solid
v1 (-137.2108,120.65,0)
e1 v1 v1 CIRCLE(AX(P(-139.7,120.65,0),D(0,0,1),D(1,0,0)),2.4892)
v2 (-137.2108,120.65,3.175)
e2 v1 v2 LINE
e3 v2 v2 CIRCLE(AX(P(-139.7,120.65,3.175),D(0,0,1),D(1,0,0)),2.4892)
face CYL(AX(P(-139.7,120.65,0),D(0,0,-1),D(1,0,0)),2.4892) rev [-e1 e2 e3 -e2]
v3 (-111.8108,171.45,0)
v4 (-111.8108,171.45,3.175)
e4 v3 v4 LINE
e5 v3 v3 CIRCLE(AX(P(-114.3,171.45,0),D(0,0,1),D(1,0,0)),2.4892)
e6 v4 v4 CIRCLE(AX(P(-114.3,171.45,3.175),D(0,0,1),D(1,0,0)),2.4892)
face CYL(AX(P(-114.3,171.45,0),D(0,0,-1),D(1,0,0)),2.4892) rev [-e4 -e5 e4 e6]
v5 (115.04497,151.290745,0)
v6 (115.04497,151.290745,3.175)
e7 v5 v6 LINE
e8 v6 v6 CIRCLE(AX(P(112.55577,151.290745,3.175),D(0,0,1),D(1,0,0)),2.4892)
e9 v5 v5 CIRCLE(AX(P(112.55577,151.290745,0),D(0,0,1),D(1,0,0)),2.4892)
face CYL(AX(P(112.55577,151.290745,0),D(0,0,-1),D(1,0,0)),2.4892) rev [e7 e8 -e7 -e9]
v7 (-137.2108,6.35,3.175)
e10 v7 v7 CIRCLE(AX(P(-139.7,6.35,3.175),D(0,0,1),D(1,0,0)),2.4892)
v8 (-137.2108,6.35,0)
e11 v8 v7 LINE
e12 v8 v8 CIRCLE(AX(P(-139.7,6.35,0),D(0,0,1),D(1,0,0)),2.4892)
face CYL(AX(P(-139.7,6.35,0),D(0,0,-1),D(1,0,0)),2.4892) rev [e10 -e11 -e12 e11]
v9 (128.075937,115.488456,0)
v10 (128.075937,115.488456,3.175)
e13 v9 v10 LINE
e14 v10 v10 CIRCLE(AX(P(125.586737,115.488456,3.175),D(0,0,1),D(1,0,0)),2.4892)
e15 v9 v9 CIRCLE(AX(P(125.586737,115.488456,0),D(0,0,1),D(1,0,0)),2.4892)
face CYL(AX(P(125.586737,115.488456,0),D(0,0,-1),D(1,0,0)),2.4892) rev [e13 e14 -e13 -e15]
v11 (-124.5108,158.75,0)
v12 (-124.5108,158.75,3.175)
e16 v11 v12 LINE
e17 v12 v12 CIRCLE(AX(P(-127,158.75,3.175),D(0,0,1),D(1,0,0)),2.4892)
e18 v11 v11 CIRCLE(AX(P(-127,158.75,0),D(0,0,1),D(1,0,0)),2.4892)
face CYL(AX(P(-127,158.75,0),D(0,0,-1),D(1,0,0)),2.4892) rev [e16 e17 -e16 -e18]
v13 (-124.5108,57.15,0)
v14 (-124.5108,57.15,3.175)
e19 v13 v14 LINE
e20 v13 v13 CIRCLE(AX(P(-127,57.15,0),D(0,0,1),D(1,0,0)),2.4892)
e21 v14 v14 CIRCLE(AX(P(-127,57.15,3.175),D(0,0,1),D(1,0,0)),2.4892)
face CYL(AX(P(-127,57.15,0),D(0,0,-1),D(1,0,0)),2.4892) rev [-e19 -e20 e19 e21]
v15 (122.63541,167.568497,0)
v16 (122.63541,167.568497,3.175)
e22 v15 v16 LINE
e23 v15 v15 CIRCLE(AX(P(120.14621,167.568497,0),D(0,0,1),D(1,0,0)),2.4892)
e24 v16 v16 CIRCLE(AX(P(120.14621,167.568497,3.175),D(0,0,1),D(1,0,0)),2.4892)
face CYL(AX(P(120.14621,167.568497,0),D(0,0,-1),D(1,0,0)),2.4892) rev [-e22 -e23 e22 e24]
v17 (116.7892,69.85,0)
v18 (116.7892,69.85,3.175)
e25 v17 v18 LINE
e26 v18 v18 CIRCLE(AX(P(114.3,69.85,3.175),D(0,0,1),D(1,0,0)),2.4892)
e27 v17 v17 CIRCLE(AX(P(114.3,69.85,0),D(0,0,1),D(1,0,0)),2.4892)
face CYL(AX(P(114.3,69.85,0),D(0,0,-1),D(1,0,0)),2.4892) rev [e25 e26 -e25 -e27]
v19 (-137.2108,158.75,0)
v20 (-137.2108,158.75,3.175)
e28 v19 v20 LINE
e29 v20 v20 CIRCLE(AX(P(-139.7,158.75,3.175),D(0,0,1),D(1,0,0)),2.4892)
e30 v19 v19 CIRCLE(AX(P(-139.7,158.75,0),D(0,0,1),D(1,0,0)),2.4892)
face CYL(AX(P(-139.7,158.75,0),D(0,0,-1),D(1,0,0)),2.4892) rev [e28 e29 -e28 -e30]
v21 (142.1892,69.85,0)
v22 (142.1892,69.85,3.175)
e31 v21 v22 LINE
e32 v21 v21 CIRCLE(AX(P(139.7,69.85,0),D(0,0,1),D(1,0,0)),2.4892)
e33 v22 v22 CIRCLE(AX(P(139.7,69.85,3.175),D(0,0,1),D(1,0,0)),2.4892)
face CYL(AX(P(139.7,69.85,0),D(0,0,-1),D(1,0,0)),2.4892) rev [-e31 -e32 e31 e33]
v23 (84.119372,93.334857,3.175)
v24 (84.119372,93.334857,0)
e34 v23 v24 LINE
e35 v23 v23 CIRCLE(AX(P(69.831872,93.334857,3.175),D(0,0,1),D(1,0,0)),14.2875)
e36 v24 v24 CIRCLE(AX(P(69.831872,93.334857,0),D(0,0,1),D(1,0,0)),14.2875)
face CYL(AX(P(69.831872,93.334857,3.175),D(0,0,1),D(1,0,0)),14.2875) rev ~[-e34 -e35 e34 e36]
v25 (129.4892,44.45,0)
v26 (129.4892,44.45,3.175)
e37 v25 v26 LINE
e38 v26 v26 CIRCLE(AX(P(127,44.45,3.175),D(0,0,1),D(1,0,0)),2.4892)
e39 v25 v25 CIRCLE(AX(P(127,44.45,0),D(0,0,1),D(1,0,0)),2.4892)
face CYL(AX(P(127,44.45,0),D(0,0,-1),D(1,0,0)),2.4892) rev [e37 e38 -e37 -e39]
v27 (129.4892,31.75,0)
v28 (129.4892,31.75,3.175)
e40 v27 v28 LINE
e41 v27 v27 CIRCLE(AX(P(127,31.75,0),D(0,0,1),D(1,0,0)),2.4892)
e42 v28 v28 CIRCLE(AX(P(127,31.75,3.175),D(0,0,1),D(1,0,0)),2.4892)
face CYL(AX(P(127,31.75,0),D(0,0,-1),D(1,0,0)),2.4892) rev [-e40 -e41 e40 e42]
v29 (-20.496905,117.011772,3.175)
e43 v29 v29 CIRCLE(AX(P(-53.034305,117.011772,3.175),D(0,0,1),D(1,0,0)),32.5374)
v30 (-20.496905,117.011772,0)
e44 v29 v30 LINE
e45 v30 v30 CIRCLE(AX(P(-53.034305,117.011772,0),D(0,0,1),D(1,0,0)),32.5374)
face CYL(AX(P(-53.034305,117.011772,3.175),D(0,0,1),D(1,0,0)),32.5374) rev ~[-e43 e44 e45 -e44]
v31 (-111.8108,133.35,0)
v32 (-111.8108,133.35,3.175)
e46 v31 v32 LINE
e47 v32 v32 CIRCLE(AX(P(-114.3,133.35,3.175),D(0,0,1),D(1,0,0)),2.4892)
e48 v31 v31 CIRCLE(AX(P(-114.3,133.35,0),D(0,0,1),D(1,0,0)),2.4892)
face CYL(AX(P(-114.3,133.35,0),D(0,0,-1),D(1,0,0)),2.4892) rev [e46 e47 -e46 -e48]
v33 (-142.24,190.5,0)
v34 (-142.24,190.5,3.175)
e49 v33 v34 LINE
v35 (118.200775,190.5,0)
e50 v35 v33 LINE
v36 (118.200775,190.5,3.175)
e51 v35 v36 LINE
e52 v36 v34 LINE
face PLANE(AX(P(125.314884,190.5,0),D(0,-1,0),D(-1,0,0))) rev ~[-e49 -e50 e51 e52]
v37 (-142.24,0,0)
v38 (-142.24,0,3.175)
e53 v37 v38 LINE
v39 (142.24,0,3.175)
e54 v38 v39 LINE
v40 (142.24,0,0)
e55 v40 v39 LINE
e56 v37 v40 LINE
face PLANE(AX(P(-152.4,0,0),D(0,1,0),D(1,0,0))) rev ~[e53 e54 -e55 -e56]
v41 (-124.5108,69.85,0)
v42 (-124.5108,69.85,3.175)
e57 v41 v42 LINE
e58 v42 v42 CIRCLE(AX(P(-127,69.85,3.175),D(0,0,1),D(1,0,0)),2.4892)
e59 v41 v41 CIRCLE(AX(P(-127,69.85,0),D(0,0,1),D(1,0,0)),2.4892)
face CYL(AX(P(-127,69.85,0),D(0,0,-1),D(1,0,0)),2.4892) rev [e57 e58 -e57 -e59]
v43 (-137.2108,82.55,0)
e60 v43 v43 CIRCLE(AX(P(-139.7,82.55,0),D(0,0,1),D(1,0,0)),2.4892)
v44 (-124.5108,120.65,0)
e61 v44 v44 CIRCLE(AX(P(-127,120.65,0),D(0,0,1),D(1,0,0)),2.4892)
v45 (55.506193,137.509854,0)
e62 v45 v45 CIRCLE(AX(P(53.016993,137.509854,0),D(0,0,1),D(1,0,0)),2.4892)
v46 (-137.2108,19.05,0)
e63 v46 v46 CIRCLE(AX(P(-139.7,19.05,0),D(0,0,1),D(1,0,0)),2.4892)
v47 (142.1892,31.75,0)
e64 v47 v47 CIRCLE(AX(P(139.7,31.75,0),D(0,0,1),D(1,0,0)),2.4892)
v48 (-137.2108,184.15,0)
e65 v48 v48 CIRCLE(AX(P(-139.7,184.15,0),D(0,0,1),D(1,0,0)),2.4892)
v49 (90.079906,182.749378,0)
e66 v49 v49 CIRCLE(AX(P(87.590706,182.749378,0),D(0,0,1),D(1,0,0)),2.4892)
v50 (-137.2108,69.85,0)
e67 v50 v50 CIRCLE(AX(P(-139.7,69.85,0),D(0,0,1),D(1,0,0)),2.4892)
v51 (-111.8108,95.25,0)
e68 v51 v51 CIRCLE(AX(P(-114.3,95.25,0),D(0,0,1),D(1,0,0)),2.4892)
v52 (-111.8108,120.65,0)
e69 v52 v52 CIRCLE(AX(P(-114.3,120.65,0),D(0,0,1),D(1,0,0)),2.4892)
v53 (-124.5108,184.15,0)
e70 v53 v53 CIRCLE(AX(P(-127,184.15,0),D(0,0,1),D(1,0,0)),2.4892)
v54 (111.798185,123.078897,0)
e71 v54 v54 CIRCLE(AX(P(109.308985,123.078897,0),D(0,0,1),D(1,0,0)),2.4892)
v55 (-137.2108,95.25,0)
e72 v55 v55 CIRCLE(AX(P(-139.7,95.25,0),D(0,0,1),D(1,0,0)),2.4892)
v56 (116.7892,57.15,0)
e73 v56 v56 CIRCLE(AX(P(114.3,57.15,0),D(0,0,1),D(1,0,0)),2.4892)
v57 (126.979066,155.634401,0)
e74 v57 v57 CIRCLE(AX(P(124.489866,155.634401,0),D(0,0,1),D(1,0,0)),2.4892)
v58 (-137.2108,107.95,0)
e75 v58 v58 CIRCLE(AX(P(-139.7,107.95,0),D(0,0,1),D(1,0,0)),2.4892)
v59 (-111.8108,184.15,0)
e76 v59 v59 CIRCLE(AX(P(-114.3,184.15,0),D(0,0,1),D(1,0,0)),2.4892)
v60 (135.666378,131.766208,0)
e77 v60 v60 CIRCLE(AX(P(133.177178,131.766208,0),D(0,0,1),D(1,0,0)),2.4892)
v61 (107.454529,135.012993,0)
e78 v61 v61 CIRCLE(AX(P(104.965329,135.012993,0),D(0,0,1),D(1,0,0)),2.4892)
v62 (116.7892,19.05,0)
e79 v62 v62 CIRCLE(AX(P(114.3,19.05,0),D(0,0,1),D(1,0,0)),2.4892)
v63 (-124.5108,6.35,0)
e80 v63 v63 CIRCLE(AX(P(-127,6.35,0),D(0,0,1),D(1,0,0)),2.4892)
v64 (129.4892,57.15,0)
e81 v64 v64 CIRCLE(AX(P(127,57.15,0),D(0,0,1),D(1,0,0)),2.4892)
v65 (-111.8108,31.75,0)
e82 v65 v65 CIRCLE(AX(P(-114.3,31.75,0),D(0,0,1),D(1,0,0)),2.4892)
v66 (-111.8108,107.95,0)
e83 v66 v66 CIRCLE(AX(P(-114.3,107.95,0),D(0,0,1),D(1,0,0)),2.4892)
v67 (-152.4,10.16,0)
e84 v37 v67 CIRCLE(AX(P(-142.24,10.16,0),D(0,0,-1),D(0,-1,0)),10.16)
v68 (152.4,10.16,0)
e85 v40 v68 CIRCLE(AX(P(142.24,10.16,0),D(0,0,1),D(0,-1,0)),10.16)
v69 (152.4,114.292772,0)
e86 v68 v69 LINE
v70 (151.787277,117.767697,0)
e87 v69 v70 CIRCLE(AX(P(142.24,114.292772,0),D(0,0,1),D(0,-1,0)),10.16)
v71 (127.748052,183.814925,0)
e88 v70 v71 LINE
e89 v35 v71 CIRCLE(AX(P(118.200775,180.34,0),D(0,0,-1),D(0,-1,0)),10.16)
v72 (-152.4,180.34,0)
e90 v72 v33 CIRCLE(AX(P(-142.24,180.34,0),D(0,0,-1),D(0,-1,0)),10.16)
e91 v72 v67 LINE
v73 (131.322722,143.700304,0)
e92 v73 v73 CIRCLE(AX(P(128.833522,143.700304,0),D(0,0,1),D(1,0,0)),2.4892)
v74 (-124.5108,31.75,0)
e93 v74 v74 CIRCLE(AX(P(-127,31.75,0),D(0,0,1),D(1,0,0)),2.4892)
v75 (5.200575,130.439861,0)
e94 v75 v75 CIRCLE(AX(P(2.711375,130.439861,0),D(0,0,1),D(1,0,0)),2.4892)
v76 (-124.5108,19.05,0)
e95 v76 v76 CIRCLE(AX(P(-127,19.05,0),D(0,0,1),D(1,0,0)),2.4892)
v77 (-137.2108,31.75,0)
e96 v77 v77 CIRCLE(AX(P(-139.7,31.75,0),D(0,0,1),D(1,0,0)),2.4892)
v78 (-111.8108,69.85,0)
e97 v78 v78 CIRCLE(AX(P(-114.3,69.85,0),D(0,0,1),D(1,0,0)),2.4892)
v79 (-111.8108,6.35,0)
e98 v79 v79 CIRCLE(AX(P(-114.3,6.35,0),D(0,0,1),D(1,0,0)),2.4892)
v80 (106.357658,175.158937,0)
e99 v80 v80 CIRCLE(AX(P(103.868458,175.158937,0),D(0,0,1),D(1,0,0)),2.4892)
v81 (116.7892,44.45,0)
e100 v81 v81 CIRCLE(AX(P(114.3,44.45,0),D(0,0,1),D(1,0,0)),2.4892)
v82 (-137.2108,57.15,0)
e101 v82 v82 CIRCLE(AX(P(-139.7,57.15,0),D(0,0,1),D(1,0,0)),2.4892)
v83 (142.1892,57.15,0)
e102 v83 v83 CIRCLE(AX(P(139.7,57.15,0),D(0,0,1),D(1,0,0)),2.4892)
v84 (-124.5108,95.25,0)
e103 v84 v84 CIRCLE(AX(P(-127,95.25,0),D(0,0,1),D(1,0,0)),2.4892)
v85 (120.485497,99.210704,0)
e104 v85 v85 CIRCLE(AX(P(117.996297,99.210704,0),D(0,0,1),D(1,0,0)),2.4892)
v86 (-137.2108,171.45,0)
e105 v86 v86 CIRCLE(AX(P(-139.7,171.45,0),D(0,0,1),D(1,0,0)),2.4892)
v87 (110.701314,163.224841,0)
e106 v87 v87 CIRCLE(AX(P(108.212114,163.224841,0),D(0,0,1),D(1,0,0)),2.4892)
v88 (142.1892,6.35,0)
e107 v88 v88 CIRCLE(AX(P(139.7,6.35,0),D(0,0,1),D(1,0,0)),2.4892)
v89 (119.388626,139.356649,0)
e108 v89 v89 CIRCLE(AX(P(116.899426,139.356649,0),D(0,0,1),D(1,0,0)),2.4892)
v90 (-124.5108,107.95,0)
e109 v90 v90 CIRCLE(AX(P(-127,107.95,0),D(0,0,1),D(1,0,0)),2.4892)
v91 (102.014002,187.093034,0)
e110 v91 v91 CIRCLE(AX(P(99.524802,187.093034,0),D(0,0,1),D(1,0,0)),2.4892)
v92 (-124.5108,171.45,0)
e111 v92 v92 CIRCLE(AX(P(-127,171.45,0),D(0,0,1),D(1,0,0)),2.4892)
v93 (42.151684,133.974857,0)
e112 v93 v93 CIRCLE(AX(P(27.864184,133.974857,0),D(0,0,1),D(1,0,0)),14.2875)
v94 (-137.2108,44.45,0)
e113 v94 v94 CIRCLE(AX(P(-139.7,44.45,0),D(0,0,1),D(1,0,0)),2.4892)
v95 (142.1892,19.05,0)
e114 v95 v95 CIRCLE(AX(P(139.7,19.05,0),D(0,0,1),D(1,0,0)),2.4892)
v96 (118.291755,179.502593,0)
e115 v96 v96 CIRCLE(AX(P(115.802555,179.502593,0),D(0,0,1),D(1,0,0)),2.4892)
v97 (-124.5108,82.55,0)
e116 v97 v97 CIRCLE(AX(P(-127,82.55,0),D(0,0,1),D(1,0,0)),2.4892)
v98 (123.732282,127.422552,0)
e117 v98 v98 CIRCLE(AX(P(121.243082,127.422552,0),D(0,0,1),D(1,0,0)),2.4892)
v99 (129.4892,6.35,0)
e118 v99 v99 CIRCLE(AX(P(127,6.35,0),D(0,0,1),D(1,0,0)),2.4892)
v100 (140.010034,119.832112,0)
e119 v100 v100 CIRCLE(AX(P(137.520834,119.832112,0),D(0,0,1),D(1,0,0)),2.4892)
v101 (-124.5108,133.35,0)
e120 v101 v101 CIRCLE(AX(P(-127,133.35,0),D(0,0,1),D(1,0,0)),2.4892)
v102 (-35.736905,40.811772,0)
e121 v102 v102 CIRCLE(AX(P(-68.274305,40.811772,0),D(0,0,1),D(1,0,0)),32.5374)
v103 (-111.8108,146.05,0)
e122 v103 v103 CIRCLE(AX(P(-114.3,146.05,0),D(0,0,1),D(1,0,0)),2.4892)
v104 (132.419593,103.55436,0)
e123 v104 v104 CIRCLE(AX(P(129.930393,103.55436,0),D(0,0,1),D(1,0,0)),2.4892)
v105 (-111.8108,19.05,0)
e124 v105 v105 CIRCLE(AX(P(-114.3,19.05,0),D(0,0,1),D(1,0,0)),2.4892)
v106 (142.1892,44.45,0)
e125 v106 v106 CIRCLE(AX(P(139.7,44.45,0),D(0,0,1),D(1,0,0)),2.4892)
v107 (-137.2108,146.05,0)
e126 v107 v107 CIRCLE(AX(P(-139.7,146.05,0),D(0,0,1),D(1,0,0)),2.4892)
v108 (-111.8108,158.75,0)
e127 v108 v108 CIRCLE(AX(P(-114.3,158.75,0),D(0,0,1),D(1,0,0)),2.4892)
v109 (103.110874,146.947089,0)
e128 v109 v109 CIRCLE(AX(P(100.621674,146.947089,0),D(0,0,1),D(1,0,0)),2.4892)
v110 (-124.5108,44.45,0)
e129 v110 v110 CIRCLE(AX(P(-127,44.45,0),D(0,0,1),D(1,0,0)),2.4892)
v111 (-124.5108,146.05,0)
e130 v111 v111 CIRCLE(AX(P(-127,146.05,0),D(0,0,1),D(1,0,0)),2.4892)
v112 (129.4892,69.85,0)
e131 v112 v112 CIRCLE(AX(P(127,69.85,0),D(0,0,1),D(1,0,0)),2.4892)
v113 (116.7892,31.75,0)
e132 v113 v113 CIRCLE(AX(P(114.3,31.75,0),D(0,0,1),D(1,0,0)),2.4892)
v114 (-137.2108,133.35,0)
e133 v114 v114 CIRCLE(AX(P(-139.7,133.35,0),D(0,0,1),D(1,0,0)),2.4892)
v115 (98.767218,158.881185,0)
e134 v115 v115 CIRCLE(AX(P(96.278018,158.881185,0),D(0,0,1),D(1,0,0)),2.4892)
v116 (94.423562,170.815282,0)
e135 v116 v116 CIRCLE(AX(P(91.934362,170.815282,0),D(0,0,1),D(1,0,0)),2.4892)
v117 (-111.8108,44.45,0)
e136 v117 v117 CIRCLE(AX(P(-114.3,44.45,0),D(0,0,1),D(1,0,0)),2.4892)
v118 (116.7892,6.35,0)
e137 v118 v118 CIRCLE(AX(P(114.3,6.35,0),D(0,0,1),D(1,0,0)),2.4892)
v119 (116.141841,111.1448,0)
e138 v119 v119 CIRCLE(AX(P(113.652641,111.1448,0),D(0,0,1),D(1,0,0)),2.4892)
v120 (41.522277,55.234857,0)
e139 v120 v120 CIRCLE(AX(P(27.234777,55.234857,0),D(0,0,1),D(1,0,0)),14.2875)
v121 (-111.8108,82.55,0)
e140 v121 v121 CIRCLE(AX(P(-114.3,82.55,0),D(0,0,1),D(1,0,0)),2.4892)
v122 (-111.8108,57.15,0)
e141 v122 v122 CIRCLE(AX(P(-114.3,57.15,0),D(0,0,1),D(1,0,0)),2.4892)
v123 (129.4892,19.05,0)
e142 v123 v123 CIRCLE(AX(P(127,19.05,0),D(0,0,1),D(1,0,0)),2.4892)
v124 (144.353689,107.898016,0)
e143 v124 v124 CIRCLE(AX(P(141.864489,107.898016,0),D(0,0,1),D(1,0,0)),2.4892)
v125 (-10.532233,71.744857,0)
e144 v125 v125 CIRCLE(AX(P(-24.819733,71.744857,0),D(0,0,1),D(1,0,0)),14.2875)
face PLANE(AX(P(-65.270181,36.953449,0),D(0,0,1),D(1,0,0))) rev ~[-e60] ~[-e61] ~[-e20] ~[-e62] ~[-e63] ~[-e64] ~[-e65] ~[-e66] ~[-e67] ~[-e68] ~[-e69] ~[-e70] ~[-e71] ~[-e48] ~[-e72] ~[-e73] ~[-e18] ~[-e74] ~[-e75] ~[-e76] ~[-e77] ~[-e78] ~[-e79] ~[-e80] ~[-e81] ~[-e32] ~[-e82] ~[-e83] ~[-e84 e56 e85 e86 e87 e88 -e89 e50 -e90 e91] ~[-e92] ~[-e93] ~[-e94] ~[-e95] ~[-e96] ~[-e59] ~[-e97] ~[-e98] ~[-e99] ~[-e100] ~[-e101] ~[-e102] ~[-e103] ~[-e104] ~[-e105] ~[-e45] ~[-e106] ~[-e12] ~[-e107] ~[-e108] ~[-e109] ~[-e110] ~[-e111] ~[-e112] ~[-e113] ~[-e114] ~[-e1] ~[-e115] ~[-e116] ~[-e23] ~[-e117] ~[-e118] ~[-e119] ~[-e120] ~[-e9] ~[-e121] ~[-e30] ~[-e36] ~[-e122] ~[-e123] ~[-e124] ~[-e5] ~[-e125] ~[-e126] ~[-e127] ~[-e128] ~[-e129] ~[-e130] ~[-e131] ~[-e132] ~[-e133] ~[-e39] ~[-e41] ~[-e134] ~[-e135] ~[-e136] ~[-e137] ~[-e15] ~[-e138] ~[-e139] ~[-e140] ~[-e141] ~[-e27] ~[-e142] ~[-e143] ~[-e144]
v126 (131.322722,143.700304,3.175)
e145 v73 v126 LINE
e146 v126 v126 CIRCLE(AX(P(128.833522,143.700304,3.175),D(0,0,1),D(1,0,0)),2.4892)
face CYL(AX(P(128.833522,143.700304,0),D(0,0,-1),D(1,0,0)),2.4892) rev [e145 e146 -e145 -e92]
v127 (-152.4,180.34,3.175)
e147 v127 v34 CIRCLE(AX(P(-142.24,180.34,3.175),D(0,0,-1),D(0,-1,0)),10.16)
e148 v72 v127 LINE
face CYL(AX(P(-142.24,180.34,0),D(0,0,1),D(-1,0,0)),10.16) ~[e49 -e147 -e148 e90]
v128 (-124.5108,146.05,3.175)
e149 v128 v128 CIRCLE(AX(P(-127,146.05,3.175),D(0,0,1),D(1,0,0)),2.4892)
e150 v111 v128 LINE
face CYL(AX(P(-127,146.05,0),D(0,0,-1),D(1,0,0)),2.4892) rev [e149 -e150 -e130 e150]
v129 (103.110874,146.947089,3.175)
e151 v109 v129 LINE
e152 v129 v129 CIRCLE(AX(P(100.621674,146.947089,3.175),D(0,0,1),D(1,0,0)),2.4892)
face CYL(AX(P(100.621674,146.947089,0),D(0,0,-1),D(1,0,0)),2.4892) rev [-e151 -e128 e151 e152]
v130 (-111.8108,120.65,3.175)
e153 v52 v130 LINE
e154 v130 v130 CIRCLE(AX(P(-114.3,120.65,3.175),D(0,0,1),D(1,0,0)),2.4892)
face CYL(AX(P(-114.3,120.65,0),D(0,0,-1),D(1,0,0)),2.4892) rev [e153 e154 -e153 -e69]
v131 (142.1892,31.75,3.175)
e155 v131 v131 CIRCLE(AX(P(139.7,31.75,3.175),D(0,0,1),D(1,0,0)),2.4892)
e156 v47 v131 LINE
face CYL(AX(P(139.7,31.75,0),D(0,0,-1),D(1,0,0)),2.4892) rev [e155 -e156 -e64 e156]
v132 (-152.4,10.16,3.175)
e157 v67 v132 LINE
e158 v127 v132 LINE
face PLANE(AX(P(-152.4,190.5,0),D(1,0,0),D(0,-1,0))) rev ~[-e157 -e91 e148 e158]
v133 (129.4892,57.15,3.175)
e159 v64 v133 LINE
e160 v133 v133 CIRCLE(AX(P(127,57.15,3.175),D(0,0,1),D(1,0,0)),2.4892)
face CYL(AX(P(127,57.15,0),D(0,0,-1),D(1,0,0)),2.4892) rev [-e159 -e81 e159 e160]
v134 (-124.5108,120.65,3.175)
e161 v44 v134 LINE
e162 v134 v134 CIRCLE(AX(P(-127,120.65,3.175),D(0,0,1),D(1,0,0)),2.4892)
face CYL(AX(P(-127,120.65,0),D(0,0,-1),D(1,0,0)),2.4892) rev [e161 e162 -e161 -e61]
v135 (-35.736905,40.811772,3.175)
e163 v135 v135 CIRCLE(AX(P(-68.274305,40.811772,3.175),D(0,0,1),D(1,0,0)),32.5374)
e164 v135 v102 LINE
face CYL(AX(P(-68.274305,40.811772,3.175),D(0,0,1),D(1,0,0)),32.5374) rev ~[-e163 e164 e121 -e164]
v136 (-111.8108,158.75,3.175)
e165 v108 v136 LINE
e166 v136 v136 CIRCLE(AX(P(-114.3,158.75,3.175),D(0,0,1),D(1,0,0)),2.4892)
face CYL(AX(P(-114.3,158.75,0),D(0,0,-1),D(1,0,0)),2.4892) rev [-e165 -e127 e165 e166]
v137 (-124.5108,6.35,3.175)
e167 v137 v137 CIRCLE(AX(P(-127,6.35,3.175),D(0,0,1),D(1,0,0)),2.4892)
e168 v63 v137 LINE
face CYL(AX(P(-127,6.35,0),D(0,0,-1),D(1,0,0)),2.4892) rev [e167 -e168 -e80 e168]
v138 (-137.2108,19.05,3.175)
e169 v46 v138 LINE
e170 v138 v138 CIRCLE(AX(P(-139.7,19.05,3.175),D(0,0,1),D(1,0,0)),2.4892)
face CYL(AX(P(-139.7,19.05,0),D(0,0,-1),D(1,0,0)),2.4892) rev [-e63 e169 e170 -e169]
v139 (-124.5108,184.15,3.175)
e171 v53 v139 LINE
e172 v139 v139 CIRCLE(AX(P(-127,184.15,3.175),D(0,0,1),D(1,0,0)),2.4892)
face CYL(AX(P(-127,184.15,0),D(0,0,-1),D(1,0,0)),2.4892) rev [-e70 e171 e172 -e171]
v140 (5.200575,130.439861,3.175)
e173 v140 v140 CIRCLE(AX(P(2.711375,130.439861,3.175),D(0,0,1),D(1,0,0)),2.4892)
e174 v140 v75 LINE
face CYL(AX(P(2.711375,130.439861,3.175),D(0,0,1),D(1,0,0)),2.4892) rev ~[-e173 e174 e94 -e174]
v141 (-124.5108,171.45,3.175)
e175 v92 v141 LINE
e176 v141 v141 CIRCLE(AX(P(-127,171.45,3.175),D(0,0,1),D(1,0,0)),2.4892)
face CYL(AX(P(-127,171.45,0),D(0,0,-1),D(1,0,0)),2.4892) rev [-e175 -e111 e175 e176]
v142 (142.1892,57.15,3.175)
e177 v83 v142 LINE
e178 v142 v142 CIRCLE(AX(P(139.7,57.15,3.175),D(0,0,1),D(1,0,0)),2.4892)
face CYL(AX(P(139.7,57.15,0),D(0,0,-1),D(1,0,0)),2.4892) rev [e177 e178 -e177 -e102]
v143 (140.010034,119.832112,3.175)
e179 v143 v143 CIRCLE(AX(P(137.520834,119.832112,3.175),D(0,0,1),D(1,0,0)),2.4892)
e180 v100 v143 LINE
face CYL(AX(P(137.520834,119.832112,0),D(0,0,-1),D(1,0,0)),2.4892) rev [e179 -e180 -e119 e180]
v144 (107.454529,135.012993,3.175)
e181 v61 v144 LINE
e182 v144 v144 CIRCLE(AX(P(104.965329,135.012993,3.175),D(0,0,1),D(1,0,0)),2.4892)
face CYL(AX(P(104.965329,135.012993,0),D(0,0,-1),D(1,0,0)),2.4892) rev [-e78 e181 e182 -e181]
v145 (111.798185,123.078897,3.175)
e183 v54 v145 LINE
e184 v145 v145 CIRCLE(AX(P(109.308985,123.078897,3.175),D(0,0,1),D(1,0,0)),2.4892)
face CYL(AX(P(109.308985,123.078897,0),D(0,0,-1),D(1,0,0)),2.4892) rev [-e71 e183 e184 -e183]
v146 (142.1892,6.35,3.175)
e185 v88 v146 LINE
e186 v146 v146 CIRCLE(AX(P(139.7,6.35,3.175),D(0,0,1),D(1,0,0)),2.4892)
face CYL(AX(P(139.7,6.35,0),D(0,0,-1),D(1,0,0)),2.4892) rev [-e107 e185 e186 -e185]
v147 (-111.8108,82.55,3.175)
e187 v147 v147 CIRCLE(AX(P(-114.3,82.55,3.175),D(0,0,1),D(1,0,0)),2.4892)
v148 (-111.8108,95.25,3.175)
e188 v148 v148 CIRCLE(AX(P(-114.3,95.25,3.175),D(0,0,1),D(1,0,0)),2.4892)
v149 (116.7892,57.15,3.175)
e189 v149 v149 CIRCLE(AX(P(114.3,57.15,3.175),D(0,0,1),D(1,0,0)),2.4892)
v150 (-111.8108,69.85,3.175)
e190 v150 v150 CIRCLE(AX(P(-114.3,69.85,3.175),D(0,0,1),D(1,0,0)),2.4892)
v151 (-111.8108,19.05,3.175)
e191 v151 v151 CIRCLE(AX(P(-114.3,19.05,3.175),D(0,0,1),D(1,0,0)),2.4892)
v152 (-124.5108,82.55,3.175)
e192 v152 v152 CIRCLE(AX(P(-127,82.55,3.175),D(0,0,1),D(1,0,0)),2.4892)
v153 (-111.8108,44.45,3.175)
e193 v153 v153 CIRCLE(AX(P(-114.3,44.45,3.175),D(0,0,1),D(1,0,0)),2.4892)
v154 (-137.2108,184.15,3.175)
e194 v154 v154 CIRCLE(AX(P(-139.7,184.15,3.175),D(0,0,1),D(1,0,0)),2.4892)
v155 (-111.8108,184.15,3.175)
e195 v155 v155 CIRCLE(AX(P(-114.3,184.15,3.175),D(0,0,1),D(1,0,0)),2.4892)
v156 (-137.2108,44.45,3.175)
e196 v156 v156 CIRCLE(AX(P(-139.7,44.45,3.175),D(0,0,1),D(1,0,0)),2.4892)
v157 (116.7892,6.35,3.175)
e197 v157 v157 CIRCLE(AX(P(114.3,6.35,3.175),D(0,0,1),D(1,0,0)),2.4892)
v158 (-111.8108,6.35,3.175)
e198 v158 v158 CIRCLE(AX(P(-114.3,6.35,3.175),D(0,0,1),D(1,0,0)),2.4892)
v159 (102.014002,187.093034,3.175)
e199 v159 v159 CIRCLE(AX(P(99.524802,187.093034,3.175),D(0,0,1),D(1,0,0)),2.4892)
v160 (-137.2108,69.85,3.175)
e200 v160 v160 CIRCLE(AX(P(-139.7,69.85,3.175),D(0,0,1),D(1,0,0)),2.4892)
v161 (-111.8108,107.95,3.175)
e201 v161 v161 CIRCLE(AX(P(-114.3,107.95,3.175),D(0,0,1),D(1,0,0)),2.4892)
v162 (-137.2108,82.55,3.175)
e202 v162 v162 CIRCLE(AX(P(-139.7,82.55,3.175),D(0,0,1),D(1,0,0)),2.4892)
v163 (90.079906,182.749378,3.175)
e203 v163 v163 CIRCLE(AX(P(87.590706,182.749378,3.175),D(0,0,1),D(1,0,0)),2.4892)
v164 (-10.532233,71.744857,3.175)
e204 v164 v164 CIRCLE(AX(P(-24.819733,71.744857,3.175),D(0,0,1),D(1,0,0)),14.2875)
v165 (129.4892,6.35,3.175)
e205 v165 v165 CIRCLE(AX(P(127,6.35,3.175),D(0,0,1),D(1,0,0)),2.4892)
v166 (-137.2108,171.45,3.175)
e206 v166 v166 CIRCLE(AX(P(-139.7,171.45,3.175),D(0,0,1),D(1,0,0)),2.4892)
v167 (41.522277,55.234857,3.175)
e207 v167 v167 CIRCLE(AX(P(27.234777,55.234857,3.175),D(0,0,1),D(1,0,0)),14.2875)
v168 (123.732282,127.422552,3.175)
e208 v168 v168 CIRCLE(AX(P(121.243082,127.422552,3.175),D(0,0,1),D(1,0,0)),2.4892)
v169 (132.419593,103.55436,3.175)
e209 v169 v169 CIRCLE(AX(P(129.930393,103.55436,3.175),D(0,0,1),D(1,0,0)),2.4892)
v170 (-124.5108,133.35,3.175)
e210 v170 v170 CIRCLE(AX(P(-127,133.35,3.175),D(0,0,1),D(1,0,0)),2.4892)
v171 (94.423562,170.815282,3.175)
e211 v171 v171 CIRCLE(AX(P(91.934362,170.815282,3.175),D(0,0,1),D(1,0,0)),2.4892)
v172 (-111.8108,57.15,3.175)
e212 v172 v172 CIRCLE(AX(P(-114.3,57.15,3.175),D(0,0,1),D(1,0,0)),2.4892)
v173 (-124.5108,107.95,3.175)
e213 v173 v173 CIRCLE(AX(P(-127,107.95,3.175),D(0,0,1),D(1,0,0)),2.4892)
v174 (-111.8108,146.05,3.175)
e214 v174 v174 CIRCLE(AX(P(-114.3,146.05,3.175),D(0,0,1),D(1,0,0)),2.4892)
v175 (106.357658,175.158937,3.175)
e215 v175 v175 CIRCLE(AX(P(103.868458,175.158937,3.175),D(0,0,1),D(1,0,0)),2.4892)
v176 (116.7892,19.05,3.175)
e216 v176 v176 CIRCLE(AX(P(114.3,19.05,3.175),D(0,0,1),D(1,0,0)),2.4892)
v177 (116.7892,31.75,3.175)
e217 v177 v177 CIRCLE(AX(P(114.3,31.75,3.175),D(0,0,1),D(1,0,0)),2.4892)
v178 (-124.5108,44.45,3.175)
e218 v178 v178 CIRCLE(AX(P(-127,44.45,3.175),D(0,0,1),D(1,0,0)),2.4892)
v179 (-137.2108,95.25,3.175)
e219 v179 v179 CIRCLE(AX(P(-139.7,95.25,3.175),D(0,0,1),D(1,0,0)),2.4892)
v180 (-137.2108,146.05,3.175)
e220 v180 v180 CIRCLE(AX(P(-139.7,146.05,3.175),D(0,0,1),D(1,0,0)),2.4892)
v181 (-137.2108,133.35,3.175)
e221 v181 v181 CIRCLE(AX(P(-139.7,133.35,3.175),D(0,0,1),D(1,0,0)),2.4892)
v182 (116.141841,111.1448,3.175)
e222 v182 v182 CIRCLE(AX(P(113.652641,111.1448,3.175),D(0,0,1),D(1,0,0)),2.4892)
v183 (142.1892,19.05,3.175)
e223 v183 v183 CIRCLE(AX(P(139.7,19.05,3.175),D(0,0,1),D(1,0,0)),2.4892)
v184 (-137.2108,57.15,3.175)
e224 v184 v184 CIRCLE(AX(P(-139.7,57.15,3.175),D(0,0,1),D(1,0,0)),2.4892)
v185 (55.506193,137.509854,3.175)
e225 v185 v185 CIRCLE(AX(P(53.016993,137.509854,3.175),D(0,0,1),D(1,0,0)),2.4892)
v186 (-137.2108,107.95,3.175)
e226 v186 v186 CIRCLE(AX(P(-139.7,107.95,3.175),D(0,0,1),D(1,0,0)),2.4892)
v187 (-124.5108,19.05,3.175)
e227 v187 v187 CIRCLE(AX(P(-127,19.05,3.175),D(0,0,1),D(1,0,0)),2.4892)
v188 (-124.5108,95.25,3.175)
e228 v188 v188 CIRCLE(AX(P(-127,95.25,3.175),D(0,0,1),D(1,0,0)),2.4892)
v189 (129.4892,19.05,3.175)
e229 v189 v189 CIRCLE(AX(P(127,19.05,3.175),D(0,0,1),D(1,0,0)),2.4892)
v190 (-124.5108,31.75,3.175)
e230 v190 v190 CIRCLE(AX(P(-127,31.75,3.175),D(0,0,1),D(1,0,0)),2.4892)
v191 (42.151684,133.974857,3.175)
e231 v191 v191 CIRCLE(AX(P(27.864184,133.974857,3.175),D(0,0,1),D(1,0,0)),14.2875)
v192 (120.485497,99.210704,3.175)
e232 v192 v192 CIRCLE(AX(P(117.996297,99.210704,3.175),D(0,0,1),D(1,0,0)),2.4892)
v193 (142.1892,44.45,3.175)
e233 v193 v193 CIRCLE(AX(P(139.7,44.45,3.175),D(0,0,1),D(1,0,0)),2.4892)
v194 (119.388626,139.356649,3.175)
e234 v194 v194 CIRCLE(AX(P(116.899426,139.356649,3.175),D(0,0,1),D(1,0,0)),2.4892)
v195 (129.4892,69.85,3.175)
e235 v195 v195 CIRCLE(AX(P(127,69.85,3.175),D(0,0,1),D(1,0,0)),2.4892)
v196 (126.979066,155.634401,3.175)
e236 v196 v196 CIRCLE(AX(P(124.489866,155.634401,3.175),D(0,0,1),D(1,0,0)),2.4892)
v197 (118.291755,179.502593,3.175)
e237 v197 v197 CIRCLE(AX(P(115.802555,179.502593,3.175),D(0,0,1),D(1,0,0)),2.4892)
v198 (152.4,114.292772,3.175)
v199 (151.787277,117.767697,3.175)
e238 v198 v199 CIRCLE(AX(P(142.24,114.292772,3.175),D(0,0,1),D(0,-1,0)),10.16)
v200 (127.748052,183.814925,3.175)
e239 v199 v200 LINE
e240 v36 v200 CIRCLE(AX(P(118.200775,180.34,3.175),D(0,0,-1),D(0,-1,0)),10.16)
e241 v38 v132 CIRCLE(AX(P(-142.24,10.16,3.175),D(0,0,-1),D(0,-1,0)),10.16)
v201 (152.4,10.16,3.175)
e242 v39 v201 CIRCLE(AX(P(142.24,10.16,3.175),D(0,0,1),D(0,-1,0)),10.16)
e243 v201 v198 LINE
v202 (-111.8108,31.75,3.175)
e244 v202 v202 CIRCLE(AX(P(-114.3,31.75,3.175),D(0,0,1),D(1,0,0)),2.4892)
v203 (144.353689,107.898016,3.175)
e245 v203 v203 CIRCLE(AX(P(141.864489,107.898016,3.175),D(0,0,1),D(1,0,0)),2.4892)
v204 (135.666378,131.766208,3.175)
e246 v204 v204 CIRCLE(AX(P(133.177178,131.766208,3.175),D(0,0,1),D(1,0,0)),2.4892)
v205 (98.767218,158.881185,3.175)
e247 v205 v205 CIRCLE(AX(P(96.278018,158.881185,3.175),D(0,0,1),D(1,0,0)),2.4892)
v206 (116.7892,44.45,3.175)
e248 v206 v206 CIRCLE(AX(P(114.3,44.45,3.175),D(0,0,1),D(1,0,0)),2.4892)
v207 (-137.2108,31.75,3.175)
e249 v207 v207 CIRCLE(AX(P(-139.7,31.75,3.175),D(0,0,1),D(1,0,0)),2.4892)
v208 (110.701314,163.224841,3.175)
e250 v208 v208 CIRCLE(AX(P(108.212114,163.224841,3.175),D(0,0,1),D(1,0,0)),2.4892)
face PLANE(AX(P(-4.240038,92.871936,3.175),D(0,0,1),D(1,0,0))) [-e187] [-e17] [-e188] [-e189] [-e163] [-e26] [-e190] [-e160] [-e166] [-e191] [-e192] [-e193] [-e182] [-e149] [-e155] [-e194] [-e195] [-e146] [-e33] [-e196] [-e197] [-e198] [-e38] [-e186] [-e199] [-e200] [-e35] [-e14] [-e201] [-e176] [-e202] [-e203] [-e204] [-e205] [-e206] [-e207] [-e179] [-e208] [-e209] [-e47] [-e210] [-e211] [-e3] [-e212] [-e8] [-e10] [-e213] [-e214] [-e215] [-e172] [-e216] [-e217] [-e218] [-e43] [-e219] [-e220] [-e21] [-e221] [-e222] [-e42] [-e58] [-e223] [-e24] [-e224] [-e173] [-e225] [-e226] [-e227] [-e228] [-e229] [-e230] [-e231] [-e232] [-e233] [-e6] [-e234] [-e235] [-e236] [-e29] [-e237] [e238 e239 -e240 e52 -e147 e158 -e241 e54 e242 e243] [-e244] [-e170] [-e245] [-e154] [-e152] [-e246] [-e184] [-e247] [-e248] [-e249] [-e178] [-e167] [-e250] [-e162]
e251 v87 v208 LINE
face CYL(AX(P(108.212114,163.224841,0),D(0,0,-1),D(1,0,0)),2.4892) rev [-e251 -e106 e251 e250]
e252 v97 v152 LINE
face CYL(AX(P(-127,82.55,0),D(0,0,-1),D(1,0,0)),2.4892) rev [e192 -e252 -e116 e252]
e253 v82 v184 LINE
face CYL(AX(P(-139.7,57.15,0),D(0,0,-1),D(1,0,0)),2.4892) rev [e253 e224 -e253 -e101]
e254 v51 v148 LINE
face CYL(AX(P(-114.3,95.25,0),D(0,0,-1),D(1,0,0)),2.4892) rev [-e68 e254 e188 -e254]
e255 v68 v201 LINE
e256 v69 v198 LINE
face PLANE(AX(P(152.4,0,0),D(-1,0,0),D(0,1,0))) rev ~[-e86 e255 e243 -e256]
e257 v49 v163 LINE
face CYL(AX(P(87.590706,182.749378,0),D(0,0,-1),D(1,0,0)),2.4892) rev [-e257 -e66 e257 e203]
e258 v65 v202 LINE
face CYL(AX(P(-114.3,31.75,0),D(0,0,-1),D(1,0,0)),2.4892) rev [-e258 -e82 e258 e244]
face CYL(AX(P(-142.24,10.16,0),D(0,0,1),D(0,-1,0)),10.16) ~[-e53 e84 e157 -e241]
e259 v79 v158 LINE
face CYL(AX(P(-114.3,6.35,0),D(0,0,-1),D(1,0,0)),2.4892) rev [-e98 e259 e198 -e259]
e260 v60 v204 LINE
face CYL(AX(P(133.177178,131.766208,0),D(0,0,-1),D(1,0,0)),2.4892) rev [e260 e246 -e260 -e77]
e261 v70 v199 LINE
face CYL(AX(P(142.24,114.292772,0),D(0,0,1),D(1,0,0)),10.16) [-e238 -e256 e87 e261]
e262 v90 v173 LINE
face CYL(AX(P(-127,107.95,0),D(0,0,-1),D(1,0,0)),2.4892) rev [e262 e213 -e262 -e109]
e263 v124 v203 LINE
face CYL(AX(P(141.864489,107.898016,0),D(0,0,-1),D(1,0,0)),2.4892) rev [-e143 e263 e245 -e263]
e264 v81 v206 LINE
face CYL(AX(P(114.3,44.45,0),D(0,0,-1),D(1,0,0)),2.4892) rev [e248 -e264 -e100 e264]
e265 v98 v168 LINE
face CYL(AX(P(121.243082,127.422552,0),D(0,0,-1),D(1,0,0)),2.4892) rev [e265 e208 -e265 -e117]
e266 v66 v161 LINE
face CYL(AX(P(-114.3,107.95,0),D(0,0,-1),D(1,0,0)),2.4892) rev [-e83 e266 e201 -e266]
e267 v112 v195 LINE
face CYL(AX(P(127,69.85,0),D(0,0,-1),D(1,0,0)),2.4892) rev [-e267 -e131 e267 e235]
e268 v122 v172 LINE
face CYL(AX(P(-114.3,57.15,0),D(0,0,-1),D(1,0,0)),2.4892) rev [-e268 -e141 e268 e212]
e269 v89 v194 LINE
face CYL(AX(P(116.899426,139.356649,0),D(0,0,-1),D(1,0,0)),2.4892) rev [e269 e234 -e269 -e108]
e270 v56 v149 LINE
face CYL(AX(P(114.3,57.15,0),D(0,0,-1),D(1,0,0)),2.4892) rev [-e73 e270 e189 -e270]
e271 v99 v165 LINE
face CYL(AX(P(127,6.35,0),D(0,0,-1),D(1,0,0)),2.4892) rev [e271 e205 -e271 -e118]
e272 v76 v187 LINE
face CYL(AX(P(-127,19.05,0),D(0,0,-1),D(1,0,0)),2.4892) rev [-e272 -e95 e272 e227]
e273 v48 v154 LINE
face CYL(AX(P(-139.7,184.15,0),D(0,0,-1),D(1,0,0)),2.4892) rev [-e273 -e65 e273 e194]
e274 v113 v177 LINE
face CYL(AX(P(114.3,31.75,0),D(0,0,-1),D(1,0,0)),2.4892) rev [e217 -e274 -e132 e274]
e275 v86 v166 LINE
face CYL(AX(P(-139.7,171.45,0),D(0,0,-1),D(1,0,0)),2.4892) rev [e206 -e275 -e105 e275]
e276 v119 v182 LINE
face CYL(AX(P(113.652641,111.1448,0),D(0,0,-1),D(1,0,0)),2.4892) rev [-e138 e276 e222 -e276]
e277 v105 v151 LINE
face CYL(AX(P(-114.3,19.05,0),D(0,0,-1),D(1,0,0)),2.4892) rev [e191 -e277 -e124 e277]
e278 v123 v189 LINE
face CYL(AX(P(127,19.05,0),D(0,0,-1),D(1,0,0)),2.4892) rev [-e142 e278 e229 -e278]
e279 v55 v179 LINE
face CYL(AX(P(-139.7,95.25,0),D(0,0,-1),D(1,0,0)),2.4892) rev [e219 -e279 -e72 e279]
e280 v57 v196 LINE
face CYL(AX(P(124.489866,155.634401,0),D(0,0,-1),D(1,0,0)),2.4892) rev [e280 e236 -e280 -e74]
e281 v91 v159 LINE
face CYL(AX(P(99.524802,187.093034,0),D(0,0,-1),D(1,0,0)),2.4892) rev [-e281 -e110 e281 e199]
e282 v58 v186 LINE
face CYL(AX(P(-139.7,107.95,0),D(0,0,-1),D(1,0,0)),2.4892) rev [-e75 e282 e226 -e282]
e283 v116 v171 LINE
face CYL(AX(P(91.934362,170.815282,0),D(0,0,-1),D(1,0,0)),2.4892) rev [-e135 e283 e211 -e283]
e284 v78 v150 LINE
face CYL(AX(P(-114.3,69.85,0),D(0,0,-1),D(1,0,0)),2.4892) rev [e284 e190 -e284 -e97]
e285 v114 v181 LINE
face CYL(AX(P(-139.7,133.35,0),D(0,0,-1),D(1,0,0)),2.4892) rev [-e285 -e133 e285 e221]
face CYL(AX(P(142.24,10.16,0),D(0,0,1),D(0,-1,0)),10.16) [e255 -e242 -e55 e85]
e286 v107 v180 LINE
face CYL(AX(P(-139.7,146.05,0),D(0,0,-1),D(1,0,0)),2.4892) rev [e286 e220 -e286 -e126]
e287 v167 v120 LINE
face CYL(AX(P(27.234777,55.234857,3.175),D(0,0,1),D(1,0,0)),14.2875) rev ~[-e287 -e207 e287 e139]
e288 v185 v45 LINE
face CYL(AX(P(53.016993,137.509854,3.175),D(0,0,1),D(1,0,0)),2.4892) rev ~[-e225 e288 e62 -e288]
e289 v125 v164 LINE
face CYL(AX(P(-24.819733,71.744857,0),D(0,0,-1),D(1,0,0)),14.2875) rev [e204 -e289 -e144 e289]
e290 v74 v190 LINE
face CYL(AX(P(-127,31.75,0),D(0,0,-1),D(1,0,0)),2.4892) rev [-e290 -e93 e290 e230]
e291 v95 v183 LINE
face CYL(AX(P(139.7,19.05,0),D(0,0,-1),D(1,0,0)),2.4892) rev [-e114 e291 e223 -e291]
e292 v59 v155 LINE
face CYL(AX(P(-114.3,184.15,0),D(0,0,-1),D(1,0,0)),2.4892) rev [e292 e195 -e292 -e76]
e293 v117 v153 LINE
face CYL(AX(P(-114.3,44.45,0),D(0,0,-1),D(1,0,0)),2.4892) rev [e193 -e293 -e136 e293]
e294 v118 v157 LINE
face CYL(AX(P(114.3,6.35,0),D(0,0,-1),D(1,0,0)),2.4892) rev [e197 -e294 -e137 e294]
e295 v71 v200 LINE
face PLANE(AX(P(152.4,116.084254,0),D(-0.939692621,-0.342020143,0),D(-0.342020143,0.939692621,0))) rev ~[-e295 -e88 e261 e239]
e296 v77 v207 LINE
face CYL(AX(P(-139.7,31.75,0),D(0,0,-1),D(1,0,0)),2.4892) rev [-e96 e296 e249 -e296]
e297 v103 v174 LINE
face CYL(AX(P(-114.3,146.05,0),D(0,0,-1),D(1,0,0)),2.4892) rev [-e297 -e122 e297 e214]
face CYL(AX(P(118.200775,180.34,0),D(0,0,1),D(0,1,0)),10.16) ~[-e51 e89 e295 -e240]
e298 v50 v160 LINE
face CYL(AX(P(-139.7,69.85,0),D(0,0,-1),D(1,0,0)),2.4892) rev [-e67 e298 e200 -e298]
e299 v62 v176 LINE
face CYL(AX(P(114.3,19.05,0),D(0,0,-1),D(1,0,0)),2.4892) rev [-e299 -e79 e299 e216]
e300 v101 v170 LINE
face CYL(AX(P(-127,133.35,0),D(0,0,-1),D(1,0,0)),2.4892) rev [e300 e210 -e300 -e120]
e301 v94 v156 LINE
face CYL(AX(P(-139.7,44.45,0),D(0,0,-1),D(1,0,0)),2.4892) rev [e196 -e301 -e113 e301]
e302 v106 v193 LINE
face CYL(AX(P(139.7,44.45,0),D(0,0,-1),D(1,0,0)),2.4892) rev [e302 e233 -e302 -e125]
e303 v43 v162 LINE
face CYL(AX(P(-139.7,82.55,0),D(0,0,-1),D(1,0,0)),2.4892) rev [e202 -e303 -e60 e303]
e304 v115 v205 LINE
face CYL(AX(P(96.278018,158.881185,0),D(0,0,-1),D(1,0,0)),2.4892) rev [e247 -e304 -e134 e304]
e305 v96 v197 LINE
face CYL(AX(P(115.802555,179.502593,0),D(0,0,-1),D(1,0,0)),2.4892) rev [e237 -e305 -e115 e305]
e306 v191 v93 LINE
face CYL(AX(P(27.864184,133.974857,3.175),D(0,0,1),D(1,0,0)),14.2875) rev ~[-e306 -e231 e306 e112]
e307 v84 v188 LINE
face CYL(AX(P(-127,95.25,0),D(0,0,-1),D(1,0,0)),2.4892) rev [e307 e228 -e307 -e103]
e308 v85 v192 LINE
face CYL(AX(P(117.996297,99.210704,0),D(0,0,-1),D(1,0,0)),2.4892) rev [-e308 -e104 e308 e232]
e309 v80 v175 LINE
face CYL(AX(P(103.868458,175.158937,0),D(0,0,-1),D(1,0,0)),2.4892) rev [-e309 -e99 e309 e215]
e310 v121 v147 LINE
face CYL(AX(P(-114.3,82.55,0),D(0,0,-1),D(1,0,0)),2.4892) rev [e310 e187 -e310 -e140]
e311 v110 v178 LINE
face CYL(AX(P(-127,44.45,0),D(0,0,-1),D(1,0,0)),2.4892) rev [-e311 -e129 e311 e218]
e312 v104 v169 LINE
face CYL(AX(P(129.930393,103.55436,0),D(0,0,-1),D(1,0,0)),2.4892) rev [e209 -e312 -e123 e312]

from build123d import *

# Parameters (mm, degrees)
SKETCH1_R           = 2.4892
SKETCH1_R_2         = 14.2875
SKETCH1_R_3         = 29.9974
BOSS_EXTRUDE1_DEPTH = 3.175
BOSS_EXTRUDE2_START = -3.175
SKETCH2_R           = 2.4892
BOSS_EXTRUDE2_DEPTH = 3.175
FILLET1_R           = 10.16
BOSS_EXTRUDE4_START = -3.175
SKETCH7_R           = 14.2875
SKETCH7_R_2         = 2.4892
BOSS_EXTRUDE4_DEPTH = 3.175
SKETCH8_R           = 14.2875
SKETCH8_R_2         = 2.4892
CUT_EXTRUDE1_DEPTH  = 244.979693059
BOSS_EXTRUDE5_START = -3.175
SKETCH11_R          = 29.9974
BOSS_EXTRUDE5_DEPTH = 3.175
SKETCH10_R          = 32.5374
CUT_EXTRUDE2_DEPTH  = 244.979693059


with BuildPart() as part:
    # Sketch1 → Boss-Extrude1 (new body)
    with BuildSketch(Plane.XY):
        Polygon((-152.4, 0), (152.4, 0), (152.4, 116.084254136), (125.314883545, 190.5), (-152.4, 190.5), align=None)
        with Locations((-139.7, 184.15)):
            Circle(SKETCH1_R, mode=Mode.SUBTRACT)
        with Locations((-127, 184.15)):
            Circle(SKETCH1_R, mode=Mode.SUBTRACT)
        with Locations((-114.3, 184.15)):
            Circle(SKETCH1_R, mode=Mode.SUBTRACT)
        with Locations((-127, 171.45)):
            Circle(SKETCH1_R, mode=Mode.SUBTRACT)
        with Locations((-114.3, 171.45)):
            Circle(SKETCH1_R, mode=Mode.SUBTRACT)
        with Locations((-127, 158.75)):
            Circle(SKETCH1_R, mode=Mode.SUBTRACT)
        with Locations((-114.3, 158.75)):
            Circle(SKETCH1_R, mode=Mode.SUBTRACT)
        with Locations((-127, 146.05)):
            Circle(SKETCH1_R, mode=Mode.SUBTRACT)
        with Locations((-114.3, 146.05)):
            Circle(SKETCH1_R, mode=Mode.SUBTRACT)
        with Locations((-127, 133.35)):
            Circle(SKETCH1_R, mode=Mode.SUBTRACT)
        with Locations((-114.3, 133.35)):
            Circle(SKETCH1_R, mode=Mode.SUBTRACT)
        with Locations((-127, 120.65)):
            Circle(SKETCH1_R, mode=Mode.SUBTRACT)
        with Locations((-114.3, 120.65)):
            Circle(SKETCH1_R, mode=Mode.SUBTRACT)
        with Locations((-127, 107.95)):
            Circle(SKETCH1_R, mode=Mode.SUBTRACT)
        with Locations((-114.3, 107.95)):
            Circle(SKETCH1_R, mode=Mode.SUBTRACT)
        with Locations((-127, 95.25)):
            Circle(SKETCH1_R, mode=Mode.SUBTRACT)
        with Locations((-114.3, 95.25)):
            Circle(SKETCH1_R, mode=Mode.SUBTRACT)
        with Locations((-127, 82.55)):
            Circle(SKETCH1_R, mode=Mode.SUBTRACT)
        with Locations((-114.3, 82.55)):
            Circle(SKETCH1_R, mode=Mode.SUBTRACT)
        with Locations((-127, 69.85)):
            Circle(SKETCH1_R, mode=Mode.SUBTRACT)
        with Locations((-114.3, 69.85)):
            Circle(SKETCH1_R, mode=Mode.SUBTRACT)
        with Locations((-127, 57.15)):
            Circle(SKETCH1_R, mode=Mode.SUBTRACT)
        with Locations((-114.3, 57.15)):
            Circle(SKETCH1_R, mode=Mode.SUBTRACT)
        with Locations((-127, 44.45)):
            Circle(SKETCH1_R, mode=Mode.SUBTRACT)
        with Locations((-114.3, 44.45)):
            Circle(SKETCH1_R, mode=Mode.SUBTRACT)
        with Locations((-127, 31.75)):
            Circle(SKETCH1_R, mode=Mode.SUBTRACT)
        with Locations((-114.3, 31.75)):
            Circle(SKETCH1_R, mode=Mode.SUBTRACT)
        with Locations((-127, 19.05)):
            Circle(SKETCH1_R, mode=Mode.SUBTRACT)
        with Locations((-114.3, 19.05)):
            Circle(SKETCH1_R, mode=Mode.SUBTRACT)
        with Locations((-127, 6.35)):
            Circle(SKETCH1_R, mode=Mode.SUBTRACT)
        with Locations((-114.3, 6.35)):
            Circle(SKETCH1_R, mode=Mode.SUBTRACT)
        with Locations((-139.7, 171.45)):
            Circle(SKETCH1_R, mode=Mode.SUBTRACT)
        with Locations((-139.7, 158.75)):
            Circle(SKETCH1_R, mode=Mode.SUBTRACT)
        with Locations((-139.7, 146.05)):
            Circle(SKETCH1_R, mode=Mode.SUBTRACT)
        with Locations((-139.7, 133.35)):
            Circle(SKETCH1_R, mode=Mode.SUBTRACT)
        with Locations((-139.7, 120.65)):
            Circle(SKETCH1_R, mode=Mode.SUBTRACT)
        with Locations((-139.7, 107.95)):
            Circle(SKETCH1_R, mode=Mode.SUBTRACT)
        with Locations((-139.7, 95.25)):
            Circle(SKETCH1_R, mode=Mode.SUBTRACT)
        with Locations((-139.7, 82.55)):
            Circle(SKETCH1_R, mode=Mode.SUBTRACT)
        with Locations((-139.7, 69.85)):
            Circle(SKETCH1_R, mode=Mode.SUBTRACT)
        with Locations((-139.7, 57.15)):
            Circle(SKETCH1_R, mode=Mode.SUBTRACT)
        with Locations((-139.7, 44.45)):
            Circle(SKETCH1_R, mode=Mode.SUBTRACT)
        with Locations((-139.7, 31.75)):
            Circle(SKETCH1_R, mode=Mode.SUBTRACT)
        with Locations((-139.7, 19.05)):
            Circle(SKETCH1_R, mode=Mode.SUBTRACT)
        with Locations((-139.7, 6.35)):
            Circle(SKETCH1_R, mode=Mode.SUBTRACT)
        with Locations((87.590706137, 182.74937795)):
            Circle(SKETCH1_R, mode=Mode.SUBTRACT)
        with Locations((99.524802421, 187.09303377)):
            Circle(SKETCH1_R, mode=Mode.SUBTRACT)
        with Locations((115.802554525, 179.502593307)):
            Circle(SKETCH1_R, mode=Mode.SUBTRACT)
        with Locations((91.934361957, 170.815281666)):
            Circle(SKETCH1_R, mode=Mode.SUBTRACT)
        with Locations((103.868458241, 175.158937486)):
            Circle(SKETCH1_R, mode=Mode.SUBTRACT)
        with Locations((120.146210345, 167.568497023)):
            Circle(SKETCH1_R, mode=Mode.SUBTRACT)
        with Locations((96.278017777, 158.881185382)):
            Circle(SKETCH1_R, mode=Mode.SUBTRACT)
        with Locations((108.212114061, 163.224841202)):
            Circle(SKETCH1_R, mode=Mode.SUBTRACT)
        with Locations((124.489866165, 155.634400739)):
            Circle(SKETCH1_R, mode=Mode.SUBTRACT)
        with Locations((100.621673597, 146.947089098)):
            Circle(SKETCH1_R, mode=Mode.SUBTRACT)
        with Locations((112.555769881, 151.290744918)):
            Circle(SKETCH1_R, mode=Mode.SUBTRACT)
        with Locations((128.833521986, 143.700304455)):
            Circle(SKETCH1_R, mode=Mode.SUBTRACT)
        with Locations((104.965329418, 135.012992814)):
            Circle(SKETCH1_R, mode=Mode.SUBTRACT)
        with Locations((116.899425702, 139.356648634)):
            Circle(SKETCH1_R, mode=Mode.SUBTRACT)
        with Locations((133.177177806, 131.766208171)):
            Circle(SKETCH1_R, mode=Mode.SUBTRACT)
        with Locations((109.308985238, 123.07889653)):
            Circle(SKETCH1_R, mode=Mode.SUBTRACT)
        with Locations((121.243081522, 127.42255235)):
            Circle(SKETCH1_R, mode=Mode.SUBTRACT)
        with Locations((137.520833626, 119.832111887)):
            Circle(SKETCH1_R, mode=Mode.SUBTRACT)
        with Locations((113.652641058, 111.144800246)):
            Circle(SKETCH1_R, mode=Mode.SUBTRACT)
        with Locations((125.586737342, 115.488456066)):
            Circle(SKETCH1_R, mode=Mode.SUBTRACT)
        with Locations((141.864489446, 107.898015603)):
            Circle(SKETCH1_R, mode=Mode.SUBTRACT)
        with Locations((117.996296878, 99.210703962)):
            Circle(SKETCH1_R, mode=Mode.SUBTRACT)
        with Locations((129.930393162, 103.554359782)):
            Circle(SKETCH1_R, mode=Mode.SUBTRACT)
        with Locations((146.208145266, 95.963919319)):
            Circle(SKETCH1_R, mode=Mode.SUBTRACT)
        with Locations((114.3, 69.85)):
            Circle(SKETCH1_R, mode=Mode.SUBTRACT)
        with Locations((127, 69.85)):
            Circle(SKETCH1_R, mode=Mode.SUBTRACT)
        with Locations((139.7, 69.85)):
            Circle(SKETCH1_R, mode=Mode.SUBTRACT)
        with Locations((114.3, 57.15)):
            Circle(SKETCH1_R, mode=Mode.SUBTRACT)
        with Locations((127, 57.15)):
            Circle(SKETCH1_R, mode=Mode.SUBTRACT)
        with Locations((139.7, 57.15)):
            Circle(SKETCH1_R, mode=Mode.SUBTRACT)
        with Locations((114.3, 44.45)):
            Circle(SKETCH1_R, mode=Mode.SUBTRACT)
        with Locations((127, 44.45)):
            Circle(SKETCH1_R, mode=Mode.SUBTRACT)
        with Locations((139.7, 44.45)):
            Circle(SKETCH1_R, mode=Mode.SUBTRACT)
        with Locations((114.3, 31.75)):
            Circle(SKETCH1_R, mode=Mode.SUBTRACT)
        with Locations((127, 31.75)):
            Circle(SKETCH1_R, mode=Mode.SUBTRACT)
        with Locations((139.7, 31.75)):
            Circle(SKETCH1_R, mode=Mode.SUBTRACT)
        with Locations((114.3, 19.05)):
            Circle(SKETCH1_R, mode=Mode.SUBTRACT)
        with Locations((127, 19.05)):
            Circle(SKETCH1_R, mode=Mode.SUBTRACT)
        with Locations((139.7, 19.05)):
            Circle(SKETCH1_R, mode=Mode.SUBTRACT)
        with Locations((114.3, 6.35)):
            Circle(SKETCH1_R, mode=Mode.SUBTRACT)
        with Locations((127, 6.35)):
            Circle(SKETCH1_R, mode=Mode.SUBTRACT)
        with Locations((139.7, 6.35)):
            Circle(SKETCH1_R, mode=Mode.SUBTRACT)
        with Locations((11.850775283, 132.016841695)):
            Circle(SKETCH1_R_2, mode=Mode.SUBTRACT)
        with Locations((-24.819733341, 71.744857423)):
            Circle(SKETCH1_R_2, mode=Mode.SUBTRACT)
        with Locations((57.635078008, 95.712451111)):
            Circle(SKETCH1_R_2, mode=Mode.SUBTRACT)
        with Locations((23.754601626, 49.678686248)):
            Circle(SKETCH1_R_2, mode=Mode.SUBTRACT)
        with Locations((-65.270180641, 36.953448556)):
            Circle(SKETCH1_R_3, mode=Mode.SUBTRACT)
        with Locations((-65.270180641, 106.549448556)):
            Circle(SKETCH1_R_3, mode=Mode.SUBTRACT)
        with Locations((-7.893480799, 147.995713738)):
            Circle(SKETCH1_R, mode=Mode.SUBTRACT)
        with Locations((31.595031365, 116.037969652)):
            Circle(SKETCH1_R, mode=Mode.SUBTRACT)
        with Locations((5.669801626, 80.209486248)):
            Circle(SKETCH1_R, mode=Mode.SUBTRACT)
        with Locations((41.839401626, 80.209486248)):
            Circle(SKETCH1_R, mode=Mode.SUBTRACT)
        with Locations((41.839401626, 19.147886248)):
            Circle(SKETCH1_R, mode=Mode.SUBTRACT)
        with Locations((5.669801626, 19.147886248)):
            Circle(SKETCH1_R, mode=Mode.SUBTRACT)
    extrude(amount=BOSS_EXTRUDE1_DEPTH)

    # Sketch2 → Boss-Extrude2 (add)
    with BuildSketch(Plane.XY.offset(3.175).offset(BOSS_EXTRUDE2_START)):
        with Locations((146.208145266, 95.963919319)):
            Circle(SKETCH2_R)
    extrude(amount=BOSS_EXTRUDE2_DEPTH)

    # Fillet1
    fillet1_edges = [part.edges().sort_by_distance(p)[0] for p in [
        (-152.4, 190.5, 1.5875),
        (125.314883545, 190.5, 1.5875),
        (152.4, 116.084254136, 1.5875),
        (152.4, 0, 1.5875),
        (-152.4, 0, 1.5875),
    ]]
    fillet(fillet1_edges, radius=FILLET1_R)

    # Sketch7 → Boss-Extrude4 (add)
    with BuildSketch(Plane.XY.offset(3.175).offset(BOSS_EXTRUDE4_START)):
        with Locations((11.850775283, 132.016841695)):
            Circle(SKETCH7_R)
        with Locations((57.635078008, 95.712451111)):
            Circle(SKETCH7_R)
        with Locations((23.754601626, 49.678686248)):
            Circle(SKETCH7_R)
        with Locations((41.839401626, 19.147886248)):
            Circle(SKETCH7_R_2)
        with Locations((5.669801626, 19.147886248)):
            Circle(SKETCH7_R_2)
        with Locations((-7.893480799, 147.995713738)):
            Circle(SKETCH7_R_2)
        with Locations((31.595031365, 116.037969652)):
            Circle(SKETCH7_R_2)
        with Locations((41.839401626, 80.209486248)):
            Circle(SKETCH7_R_2)
        with Locations((5.669801626, 80.209486248)):
            Circle(SKETCH7_R_2)
    extrude(amount=BOSS_EXTRUDE4_DEPTH)

    # Sketch8 → Cut-Extrude1 (cut, through all)
    with BuildSketch(Plane.XY.offset(3.175)):
        with Locations((27.23477655, 55.234857423)):
            Circle(SKETCH8_R)
        with Locations((69.831871522, 93.334857423)):
            Circle(SKETCH8_R)
        with Locations((27.864183951, 133.974857423)):
            Circle(SKETCH8_R)
        with Locations((53.016992897, 137.509854188)):
            Circle(SKETCH8_R_2)
        with Locations((2.711375005, 130.439860659)):
            Circle(SKETCH8_R_2)
    extrude(amount=-CUT_EXTRUDE1_DEPTH, mode=Mode.SUBTRACT)

    # Sketch11 → Boss-Extrude5 (add)
    with BuildSketch(Plane.XY.offset(3.175).offset(BOSS_EXTRUDE5_START)):
        with Locations((-65.270180641, 36.953448556)):
            Circle(SKETCH11_R)
        with Locations((-65.270180641, 106.549448556)):
            Circle(SKETCH11_R)
    extrude(amount=BOSS_EXTRUDE5_DEPTH)

    # Sketch10 → Cut-Extrude2 (cut, through all)
    with BuildSketch(Plane.XY.offset(3.175)):
        with Locations((-53.034305174, 117.01177179)):
            Circle(SKETCH10_R)
        with Locations((-68.274305174, 40.81177179)):
            Circle(SKETCH10_R)
    extrude(amount=-CUT_EXTRUDE2_DEPTH, mode=Mode.SUBTRACT)


solid = part.part
